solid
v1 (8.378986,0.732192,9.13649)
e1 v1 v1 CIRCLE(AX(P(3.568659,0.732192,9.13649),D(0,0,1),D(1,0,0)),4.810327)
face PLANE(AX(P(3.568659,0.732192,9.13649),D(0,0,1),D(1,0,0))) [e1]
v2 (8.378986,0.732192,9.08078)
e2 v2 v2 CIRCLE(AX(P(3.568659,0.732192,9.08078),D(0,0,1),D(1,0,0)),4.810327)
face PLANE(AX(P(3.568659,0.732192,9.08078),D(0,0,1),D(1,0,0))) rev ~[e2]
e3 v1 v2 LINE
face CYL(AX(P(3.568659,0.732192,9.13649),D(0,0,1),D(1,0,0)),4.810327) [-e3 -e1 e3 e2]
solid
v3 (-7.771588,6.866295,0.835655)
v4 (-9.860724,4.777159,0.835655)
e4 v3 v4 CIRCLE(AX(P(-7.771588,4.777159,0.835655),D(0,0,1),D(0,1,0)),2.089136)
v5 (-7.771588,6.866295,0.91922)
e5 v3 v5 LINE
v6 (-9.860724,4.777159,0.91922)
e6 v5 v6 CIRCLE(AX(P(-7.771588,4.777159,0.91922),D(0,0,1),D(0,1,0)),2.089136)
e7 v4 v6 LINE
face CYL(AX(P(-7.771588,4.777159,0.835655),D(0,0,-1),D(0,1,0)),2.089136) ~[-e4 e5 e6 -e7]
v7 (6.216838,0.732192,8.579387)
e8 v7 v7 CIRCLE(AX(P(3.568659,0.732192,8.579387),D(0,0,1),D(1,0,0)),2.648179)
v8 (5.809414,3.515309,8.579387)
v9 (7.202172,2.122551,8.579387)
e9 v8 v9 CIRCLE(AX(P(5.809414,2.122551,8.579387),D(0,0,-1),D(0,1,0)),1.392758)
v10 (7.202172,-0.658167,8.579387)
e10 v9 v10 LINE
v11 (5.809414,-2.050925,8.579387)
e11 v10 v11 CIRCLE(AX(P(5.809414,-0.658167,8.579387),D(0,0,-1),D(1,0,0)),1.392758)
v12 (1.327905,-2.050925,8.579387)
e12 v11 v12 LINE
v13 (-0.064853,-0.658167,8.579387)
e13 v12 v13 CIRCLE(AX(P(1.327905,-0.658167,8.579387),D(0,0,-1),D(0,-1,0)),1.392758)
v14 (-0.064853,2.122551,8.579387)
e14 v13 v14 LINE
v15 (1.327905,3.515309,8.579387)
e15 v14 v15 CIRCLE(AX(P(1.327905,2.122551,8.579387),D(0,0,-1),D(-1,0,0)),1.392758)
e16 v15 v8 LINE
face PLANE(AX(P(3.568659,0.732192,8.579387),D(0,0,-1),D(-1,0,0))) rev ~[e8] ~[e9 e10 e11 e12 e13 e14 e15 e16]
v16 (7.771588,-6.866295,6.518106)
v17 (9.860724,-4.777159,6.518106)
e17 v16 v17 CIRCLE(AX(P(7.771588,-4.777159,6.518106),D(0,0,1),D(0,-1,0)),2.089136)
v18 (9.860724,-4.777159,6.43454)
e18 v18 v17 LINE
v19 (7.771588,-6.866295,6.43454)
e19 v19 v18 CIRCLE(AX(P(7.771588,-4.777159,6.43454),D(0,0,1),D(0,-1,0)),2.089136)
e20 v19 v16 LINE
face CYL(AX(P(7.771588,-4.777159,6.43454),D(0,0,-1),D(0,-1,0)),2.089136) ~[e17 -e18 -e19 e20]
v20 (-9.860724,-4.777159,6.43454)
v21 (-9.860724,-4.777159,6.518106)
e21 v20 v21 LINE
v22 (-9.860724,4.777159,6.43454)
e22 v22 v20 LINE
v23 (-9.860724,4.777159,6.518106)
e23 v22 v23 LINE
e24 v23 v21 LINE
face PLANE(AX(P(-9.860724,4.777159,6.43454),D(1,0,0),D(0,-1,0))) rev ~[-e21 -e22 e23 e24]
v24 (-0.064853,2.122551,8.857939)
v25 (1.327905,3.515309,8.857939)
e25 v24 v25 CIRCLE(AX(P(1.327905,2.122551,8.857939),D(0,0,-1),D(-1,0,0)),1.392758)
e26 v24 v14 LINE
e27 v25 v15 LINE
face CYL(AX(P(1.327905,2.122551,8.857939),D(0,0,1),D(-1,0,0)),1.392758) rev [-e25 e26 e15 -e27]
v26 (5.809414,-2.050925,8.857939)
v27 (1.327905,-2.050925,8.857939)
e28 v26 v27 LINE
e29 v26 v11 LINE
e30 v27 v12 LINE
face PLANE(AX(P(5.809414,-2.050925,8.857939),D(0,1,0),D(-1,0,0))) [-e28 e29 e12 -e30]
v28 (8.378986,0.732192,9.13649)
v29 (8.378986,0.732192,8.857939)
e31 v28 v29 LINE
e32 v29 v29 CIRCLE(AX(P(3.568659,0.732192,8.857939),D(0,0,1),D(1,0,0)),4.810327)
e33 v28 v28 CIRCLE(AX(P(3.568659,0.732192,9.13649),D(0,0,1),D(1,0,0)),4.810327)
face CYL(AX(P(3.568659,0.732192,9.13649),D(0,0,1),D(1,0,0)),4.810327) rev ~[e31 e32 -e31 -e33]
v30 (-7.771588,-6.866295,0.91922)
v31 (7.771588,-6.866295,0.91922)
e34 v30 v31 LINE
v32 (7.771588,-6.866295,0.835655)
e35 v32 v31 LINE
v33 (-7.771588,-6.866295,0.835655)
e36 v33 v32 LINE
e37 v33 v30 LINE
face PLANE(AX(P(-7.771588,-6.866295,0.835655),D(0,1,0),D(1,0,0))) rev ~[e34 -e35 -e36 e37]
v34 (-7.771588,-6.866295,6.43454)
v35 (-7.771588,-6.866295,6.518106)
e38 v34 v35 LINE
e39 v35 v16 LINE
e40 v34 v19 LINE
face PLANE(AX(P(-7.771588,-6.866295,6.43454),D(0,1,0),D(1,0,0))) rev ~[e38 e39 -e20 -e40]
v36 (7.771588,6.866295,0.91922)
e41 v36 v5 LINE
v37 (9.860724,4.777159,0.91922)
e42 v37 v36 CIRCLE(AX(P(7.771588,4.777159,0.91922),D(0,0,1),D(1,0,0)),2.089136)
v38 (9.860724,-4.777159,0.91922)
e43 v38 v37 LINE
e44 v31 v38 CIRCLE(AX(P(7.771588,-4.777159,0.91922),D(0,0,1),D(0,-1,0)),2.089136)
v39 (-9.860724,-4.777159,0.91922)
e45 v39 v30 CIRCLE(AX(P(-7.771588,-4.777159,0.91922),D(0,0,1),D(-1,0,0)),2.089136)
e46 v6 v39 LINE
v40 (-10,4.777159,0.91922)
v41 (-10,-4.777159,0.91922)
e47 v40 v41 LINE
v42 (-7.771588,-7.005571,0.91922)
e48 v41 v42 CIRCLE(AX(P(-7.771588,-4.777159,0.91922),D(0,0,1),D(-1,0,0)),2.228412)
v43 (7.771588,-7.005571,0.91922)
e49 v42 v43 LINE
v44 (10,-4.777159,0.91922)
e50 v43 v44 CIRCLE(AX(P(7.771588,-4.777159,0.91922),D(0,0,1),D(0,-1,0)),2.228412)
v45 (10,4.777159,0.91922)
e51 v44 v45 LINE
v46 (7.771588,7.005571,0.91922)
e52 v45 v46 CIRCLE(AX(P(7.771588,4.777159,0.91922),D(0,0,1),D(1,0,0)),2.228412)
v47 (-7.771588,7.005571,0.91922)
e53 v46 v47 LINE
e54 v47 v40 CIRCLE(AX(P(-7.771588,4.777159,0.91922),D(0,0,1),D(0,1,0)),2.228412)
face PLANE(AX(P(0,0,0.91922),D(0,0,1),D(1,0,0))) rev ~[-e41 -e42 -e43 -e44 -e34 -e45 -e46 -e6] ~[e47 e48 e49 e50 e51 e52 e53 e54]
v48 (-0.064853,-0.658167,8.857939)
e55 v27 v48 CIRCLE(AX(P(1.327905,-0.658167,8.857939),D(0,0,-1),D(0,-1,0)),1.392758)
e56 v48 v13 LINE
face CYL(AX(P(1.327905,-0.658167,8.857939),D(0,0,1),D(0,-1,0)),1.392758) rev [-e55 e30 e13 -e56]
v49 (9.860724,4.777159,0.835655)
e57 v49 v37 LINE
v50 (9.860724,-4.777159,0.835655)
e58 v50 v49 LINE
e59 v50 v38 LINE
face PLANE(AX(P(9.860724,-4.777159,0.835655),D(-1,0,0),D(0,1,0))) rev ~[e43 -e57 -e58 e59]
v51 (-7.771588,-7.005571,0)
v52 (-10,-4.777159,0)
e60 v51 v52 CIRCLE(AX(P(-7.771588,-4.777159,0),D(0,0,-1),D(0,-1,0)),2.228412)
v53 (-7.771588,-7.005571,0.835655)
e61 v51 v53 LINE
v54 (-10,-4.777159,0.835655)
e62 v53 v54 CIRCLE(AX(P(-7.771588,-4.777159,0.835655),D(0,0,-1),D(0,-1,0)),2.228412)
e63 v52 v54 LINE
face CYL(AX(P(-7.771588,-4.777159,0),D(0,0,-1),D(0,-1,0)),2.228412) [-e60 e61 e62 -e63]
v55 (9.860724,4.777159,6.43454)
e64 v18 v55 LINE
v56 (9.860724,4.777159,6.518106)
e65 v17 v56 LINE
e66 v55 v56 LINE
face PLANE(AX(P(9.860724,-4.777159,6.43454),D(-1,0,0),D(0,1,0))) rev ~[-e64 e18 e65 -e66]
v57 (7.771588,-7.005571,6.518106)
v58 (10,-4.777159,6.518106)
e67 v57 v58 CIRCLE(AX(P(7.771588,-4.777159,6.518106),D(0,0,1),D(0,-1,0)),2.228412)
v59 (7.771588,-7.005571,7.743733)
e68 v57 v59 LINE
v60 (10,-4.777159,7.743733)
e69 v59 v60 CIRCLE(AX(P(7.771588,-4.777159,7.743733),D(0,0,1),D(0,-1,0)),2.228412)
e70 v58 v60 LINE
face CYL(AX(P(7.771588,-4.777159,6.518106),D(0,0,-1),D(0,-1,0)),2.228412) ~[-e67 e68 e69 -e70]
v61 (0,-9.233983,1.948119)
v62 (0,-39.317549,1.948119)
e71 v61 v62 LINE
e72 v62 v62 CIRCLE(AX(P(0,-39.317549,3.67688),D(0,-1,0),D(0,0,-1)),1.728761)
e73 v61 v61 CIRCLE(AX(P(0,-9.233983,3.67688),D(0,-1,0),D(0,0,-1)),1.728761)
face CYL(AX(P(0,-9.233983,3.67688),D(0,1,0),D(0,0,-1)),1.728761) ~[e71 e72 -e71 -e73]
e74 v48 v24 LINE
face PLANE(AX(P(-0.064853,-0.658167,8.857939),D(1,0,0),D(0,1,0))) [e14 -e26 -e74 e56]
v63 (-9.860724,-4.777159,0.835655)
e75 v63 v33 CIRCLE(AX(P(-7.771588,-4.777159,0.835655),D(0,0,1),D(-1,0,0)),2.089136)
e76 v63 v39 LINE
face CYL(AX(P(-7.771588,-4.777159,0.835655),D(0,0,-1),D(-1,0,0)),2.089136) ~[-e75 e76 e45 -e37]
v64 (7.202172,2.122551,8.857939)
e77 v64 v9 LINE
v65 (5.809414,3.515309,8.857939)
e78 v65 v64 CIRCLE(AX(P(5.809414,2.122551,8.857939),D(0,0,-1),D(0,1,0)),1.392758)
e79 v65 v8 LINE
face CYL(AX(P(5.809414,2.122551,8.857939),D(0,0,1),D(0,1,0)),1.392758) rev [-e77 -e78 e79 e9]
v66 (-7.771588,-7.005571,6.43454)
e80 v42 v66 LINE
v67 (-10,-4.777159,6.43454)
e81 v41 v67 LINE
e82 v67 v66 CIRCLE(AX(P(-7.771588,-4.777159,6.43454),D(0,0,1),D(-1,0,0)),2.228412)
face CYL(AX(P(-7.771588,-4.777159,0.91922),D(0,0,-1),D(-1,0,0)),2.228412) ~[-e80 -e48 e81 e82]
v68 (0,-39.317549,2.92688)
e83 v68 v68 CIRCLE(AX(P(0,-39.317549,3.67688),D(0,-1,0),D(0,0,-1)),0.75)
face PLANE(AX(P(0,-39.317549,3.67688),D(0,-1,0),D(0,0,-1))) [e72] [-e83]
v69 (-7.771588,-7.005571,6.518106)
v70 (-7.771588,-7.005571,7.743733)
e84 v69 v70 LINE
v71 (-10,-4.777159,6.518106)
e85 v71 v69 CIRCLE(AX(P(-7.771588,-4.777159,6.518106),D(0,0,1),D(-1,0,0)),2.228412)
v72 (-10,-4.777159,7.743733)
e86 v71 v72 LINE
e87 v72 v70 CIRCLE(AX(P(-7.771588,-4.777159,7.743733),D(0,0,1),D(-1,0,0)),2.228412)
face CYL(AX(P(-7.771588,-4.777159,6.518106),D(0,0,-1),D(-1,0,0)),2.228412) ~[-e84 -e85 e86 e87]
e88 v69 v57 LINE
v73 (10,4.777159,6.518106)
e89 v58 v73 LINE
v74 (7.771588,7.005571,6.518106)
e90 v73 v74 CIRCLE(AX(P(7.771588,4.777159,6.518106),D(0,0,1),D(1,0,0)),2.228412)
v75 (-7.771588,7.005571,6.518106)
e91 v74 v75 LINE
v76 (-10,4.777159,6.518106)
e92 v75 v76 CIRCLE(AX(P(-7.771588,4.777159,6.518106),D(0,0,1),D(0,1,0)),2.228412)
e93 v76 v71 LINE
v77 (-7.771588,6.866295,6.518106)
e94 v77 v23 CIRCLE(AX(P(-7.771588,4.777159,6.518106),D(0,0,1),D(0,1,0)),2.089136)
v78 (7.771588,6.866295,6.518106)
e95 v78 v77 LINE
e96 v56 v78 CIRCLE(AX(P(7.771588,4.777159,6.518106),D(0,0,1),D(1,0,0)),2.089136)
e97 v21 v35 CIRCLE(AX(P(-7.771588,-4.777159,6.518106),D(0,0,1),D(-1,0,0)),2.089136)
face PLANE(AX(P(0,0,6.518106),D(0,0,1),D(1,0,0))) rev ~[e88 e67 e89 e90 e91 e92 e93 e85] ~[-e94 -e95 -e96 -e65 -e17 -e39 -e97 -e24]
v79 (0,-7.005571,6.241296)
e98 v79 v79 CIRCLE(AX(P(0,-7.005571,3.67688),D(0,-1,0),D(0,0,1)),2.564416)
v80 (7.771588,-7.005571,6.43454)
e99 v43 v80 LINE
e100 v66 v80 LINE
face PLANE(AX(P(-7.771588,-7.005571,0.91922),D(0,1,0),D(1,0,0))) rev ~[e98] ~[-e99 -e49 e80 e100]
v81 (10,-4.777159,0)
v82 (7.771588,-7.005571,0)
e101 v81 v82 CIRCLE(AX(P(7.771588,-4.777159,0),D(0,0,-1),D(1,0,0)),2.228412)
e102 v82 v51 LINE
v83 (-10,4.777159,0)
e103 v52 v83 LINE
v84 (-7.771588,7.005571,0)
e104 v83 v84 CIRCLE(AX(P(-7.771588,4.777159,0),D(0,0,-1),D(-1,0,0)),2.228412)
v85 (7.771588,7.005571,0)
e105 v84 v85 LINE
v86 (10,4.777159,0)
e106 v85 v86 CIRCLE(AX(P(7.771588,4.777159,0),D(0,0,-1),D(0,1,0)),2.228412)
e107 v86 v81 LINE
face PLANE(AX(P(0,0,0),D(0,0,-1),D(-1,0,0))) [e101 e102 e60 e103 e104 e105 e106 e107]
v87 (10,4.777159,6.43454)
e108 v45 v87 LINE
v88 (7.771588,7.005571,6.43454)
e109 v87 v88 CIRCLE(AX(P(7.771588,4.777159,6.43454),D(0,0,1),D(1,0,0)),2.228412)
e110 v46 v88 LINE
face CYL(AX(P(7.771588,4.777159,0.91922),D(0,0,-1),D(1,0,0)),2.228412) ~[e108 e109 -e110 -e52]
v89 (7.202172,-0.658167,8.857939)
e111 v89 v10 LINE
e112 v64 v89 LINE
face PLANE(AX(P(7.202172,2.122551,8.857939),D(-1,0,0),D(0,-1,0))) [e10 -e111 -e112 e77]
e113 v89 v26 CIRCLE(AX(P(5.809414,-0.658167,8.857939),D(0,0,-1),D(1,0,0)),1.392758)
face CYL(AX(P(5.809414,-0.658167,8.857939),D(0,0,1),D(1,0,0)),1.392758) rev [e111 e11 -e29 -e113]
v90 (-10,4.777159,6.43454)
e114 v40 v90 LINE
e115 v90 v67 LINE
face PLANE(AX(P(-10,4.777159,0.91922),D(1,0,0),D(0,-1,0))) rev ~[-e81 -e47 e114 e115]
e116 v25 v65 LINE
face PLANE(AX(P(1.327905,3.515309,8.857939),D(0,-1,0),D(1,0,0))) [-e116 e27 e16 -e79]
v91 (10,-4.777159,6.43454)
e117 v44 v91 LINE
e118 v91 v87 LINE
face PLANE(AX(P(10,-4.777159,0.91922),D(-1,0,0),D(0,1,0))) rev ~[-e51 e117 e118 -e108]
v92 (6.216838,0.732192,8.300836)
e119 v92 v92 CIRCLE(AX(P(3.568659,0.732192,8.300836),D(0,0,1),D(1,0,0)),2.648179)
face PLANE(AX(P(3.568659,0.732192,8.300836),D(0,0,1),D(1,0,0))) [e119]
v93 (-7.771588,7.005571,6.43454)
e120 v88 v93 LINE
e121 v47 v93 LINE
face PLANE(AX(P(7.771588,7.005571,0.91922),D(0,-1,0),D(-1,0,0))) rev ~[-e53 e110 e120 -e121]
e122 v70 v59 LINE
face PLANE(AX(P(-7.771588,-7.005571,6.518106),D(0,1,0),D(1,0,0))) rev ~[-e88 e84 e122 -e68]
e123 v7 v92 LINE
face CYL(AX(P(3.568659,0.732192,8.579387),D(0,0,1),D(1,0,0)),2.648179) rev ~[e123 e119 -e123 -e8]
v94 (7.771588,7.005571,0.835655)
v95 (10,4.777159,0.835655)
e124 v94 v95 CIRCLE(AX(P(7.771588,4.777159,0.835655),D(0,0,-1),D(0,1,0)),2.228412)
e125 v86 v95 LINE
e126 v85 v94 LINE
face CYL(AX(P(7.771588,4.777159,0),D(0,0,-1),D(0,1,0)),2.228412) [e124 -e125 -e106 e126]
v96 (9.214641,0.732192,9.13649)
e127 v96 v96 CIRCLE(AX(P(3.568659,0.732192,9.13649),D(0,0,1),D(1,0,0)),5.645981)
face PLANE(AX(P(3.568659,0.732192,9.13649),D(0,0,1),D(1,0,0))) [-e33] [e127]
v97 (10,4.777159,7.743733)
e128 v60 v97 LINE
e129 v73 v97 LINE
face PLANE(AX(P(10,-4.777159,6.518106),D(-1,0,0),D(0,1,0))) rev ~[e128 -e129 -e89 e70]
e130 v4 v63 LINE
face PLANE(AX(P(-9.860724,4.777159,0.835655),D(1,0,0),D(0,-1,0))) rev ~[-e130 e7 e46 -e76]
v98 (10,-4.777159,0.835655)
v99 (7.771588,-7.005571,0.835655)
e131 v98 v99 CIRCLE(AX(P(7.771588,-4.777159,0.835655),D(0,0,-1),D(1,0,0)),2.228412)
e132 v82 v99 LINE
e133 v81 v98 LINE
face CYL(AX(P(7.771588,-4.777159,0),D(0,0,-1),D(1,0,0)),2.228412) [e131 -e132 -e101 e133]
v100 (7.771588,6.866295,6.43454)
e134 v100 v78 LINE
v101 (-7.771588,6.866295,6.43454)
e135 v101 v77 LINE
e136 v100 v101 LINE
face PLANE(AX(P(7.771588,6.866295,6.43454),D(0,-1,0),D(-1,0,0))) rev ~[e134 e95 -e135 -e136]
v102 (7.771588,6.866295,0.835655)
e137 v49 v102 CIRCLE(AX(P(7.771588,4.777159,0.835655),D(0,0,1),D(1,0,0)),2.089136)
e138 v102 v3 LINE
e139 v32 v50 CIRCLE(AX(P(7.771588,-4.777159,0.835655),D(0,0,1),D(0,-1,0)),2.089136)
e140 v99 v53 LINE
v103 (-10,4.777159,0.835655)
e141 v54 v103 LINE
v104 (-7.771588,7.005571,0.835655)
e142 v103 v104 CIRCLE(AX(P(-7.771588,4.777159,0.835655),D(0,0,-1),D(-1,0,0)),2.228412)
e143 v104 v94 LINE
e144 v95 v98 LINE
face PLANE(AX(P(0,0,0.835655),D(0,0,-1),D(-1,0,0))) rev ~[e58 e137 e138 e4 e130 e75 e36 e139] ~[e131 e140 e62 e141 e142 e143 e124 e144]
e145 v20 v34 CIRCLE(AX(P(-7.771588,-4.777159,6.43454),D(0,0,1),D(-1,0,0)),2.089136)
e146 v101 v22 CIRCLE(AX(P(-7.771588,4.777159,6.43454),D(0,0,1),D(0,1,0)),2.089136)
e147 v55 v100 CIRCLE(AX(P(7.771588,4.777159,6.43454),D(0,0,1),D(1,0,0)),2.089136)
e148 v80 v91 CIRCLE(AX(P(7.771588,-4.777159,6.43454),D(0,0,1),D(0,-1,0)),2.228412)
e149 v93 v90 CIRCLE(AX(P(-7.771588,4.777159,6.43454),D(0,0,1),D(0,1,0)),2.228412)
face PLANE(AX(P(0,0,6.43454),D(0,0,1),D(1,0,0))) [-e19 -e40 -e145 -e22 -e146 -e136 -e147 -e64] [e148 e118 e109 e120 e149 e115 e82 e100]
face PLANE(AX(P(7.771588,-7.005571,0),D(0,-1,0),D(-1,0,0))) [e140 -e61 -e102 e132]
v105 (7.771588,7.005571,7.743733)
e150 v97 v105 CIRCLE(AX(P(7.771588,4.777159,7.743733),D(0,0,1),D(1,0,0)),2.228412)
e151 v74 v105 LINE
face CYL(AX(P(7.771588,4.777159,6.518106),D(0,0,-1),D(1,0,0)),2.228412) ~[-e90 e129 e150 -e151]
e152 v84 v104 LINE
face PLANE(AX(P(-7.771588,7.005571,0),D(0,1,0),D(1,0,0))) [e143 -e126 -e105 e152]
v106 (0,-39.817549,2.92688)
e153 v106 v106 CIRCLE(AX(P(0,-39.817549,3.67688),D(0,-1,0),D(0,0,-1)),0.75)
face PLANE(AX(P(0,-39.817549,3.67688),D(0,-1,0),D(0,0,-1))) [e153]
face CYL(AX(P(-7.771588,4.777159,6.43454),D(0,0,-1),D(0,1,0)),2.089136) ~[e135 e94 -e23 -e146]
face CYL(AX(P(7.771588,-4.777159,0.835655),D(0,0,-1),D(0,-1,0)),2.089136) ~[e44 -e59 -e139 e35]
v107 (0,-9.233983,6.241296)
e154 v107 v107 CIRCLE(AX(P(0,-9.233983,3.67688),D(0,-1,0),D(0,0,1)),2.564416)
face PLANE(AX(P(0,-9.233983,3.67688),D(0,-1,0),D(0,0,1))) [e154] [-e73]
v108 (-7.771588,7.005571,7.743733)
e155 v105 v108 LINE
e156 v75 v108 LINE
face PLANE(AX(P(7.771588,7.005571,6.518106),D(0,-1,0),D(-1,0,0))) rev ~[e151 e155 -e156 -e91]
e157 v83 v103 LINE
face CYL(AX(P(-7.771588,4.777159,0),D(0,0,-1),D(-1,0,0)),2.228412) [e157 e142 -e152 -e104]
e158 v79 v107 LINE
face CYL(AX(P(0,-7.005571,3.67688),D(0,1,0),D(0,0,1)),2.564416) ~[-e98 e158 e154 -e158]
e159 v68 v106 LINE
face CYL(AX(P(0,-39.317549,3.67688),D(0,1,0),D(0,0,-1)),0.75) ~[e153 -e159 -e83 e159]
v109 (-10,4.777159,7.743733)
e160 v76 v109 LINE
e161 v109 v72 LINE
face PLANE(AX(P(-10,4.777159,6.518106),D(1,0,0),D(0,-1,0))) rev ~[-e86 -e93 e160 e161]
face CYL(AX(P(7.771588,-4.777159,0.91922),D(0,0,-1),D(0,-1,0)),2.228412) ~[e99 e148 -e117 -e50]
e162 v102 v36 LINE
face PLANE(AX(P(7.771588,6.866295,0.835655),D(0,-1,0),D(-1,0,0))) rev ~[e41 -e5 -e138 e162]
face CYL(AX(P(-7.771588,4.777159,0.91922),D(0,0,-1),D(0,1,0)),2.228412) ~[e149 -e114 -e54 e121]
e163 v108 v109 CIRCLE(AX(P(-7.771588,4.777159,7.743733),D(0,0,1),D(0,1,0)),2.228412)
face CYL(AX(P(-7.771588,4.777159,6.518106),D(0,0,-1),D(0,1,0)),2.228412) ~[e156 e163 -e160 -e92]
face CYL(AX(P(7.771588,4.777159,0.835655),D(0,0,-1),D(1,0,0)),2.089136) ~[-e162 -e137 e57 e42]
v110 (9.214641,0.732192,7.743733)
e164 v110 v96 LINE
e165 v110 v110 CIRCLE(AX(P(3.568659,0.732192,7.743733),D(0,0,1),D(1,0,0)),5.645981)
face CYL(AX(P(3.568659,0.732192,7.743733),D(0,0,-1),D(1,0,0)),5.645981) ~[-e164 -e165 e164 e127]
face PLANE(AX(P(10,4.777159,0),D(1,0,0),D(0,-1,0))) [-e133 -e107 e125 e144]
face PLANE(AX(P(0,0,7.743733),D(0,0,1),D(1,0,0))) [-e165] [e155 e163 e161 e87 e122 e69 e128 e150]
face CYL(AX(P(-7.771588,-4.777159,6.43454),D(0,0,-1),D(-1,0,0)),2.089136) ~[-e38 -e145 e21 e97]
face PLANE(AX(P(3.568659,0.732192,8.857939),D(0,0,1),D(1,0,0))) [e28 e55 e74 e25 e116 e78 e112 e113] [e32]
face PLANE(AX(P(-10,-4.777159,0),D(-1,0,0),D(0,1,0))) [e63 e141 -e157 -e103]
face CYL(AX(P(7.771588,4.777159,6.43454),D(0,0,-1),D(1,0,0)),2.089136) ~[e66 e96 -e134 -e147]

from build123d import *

# Parameters (mm, degrees)
BOSS_EXTRUDE3_DEPTH  = 3
BOSS_EXTRUDE4_DEPTH  = 0.3
BOSS_EXTRUDE5_DEPTH  = 19.8
BOSS_EXTRUDE6_DEPTH  = 0.3
BOSS_EXTRUDE7_DEPTH  = 4.4
SKETCH19_R           = 9.20625279
BOSS_EXTRUDE11_DEPTH = 8
SKETCH20_R           = 6.20625279
BOSS_EXTRUDE12_DEPTH = 108
SKETCH21_R           = 20.269072442
BOSS_EXTRUDE13_DEPTH = 5
SKETCH23_R           = 17.269072442
CUT_EXTRUDE2_DEPTH   = 1
CUT_EXTRUDE3_DEPTH   = 1
SKETCH25_R           = 9.506960847
CUT_EXTRUDE4_DEPTH   = 1
SKETCH29_R           = 17.269072442
BOSS_EXTRUDE14_DEPTH = 0.2
SCALE1_SCALE         = 0.278551532
SKETCH31_R           = 0.75
BOSS_EXTRUDE15_DEPTH = 0.5


with BuildPart() as part:
    # Sketch3 → Boss-Extrude3 (new body)
    with BuildSketch(Plane.XY):
        with BuildLine():
            Line((-27.9, 25.15), (27.9, 25.15))
            ThreePointArc((27.9, 25.15), (33.556854249, 22.806854249), (35.9, 17.15))
            Line((35.9, 17.15), (35.9, -17.15))
            ThreePointArc((35.9, -17.15), (33.556854249, -22.806854249), (27.9, -25.15))
            Line((27.9, -25.15), (-27.9, -25.15))
            ThreePointArc((-27.9, -25.15), (-33.556854249, -22.806854249), (-35.9, -17.15))
            Line((-35.9, -17.15), (-35.9, 17.15))
            ThreePointArc((-35.9, 17.15), (-33.556854249, 22.806854249), (-27.9, 25.15))
        make_face()
    extrude(amount=BOSS_EXTRUDE3_DEPTH)

    # Sketch4 → Boss-Extrude4 (add)
    with BuildSketch(Plane.XY.offset(3)):
        with BuildLine():
            Line((27.9, 24.65), (-27.9, 24.65))
            ThreePointArc((-27.9, 24.65), (-33.203300859, 22.453300859), (-35.4, 17.15))
            Line((-35.4, 17.15), (-35.4, -17.15))
            ThreePointArc((-35.4, -17.15), (-33.203300859, -22.453300859), (-27.9, -24.65))
            Line((-27.9, -24.65), (27.9, -24.65))
            ThreePointArc((27.9, -24.65), (33.203300859, -22.453300859), (35.4, -17.15))
            Line((35.4, -17.15), (35.4, 17.15))
            ThreePointArc((35.4, 17.15), (33.203300859, 22.453300859), (27.9, 24.65))
        make_face()
    extrude(amount=BOSS_EXTRUDE4_DEPTH)

    # Sketch5 → Boss-Extrude5 (add)
    with BuildSketch(Plane.XY.offset(3.3)):
        with BuildLine():
            Line((27.9, 25.15), (-27.9, 25.15))
            ThreePointArc((-27.9, 25.15), (-33.556854249, 22.806854249), (-35.9, 17.15))
            Line((-35.9, 17.15), (-35.9, -17.15))
            ThreePointArc((-35.9, -17.15), (-33.556854249, -22.806854249), (-27.9, -25.15))
            Line((-27.9, -25.15), (27.9, -25.15))
            ThreePointArc((27.9, -25.15), (33.556854249, -22.806854249), (35.9, -17.15))
            Line((35.9, -17.15), (35.9, 17.15))
            ThreePointArc((35.9, 17.15), (33.556854249, 22.806854249), (27.9, 25.15))
        make_face()
    extrude(amount=BOSS_EXTRUDE5_DEPTH)

    # Sketch6 → Boss-Extrude6 (add)
    with BuildSketch(Plane.XY.offset(23.1)):
        with BuildLine():
            Line((27.9, 24.65), (-27.9, 24.65))
            ThreePointArc((-27.9, 24.65), (-33.203300859, 22.453300859), (-35.4, 17.15))
            Line((-35.4, 17.15), (-35.4, -17.15))
            ThreePointArc((-35.4, -17.15), (-33.203300859, -22.453300859), (-27.9, -24.65))
            Line((-27.9, -24.65), (27.9, -24.65))
            ThreePointArc((27.9, -24.65), (33.203300859, -22.453300859), (35.4, -17.15))
            Line((35.4, -17.15), (35.4, 17.15))
            ThreePointArc((35.4, 17.15), (33.203300859, 22.453300859), (27.9, 24.65))
        make_face()
    extrude(amount=BOSS_EXTRUDE6_DEPTH)

    # Sketch7 → Boss-Extrude7 (add)
    with BuildSketch(Plane.XY.offset(23.4)):
        with BuildLine():
            Line((27.9, 25.15), (-27.9, 25.15))
            ThreePointArc((-27.9, 25.15), (-33.556854249, 22.806854249), (-35.9, 17.15))
            Line((-35.9, 17.15), (-35.9, -17.15))
            ThreePointArc((-35.9, -17.15), (-33.556854249, -22.806854249), (-27.9, -25.15))
            Line((-27.9, -25.15), (27.9, -25.15))
            ThreePointArc((27.9, -25.15), (33.556854249, -22.806854249), (35.9, -17.15))
            Line((35.9, -17.15), (35.9, 17.15))
            ThreePointArc((35.9, 17.15), (33.556854249, 22.806854249), (27.9, 25.15))
        make_face()
    extrude(amount=BOSS_EXTRUDE7_DEPTH)

    # Sketch19 → Boss-Extrude11 (add)
    with BuildSketch(Plane.XZ.offset(25.15)):
        with Locations(Location((0, 13.2, 0), (0, 0, 90))):
            Circle(SKETCH19_R)
    extrude(amount=BOSS_EXTRUDE11_DEPTH)

    # Sketch20 → Boss-Extrude12 (add)
    with BuildSketch(Plane.XZ.offset(33.15)):
        with Locations(Location((0, 13.2, 0), (0, 0, 270))):
            Circle(SKETCH20_R)
    extrude(amount=BOSS_EXTRUDE12_DEPTH)

    # Sketch21 → Boss-Extrude13 (add)
    with BuildSketch(Plane.XY.offset(27.8)):
        with Locations((12.81148727, 2.628569179)):
            Circle(SKETCH21_R)
    extrude(amount=BOSS_EXTRUDE13_DEPTH)

    # Sketch23 → Cut-Extrude2 (cut)
    with BuildSketch(Plane.XY.offset(32.8)):
        with Locations((12.81148727, 2.628569179)):
            Circle(SKETCH23_R)
    extrude(amount=-CUT_EXTRUDE2_DEPTH, mode=Mode.SUBTRACT)

    # Sketch24 → Cut-Extrude3 (cut)
    with BuildSketch(Plane.XY.offset(31.8)):
        with BuildLine():
            Line((4.767177469, 12.619958082), (20.85579707, 12.619958082))
            ThreePointArc((20.85579707, 12.619958082), (24.391330976, 11.155491987), (25.85579707, 7.619958082))
            Line((25.85579707, 7.619958082), (25.85579707, -2.362819723))
            ThreePointArc((25.85579707, -2.362819723), (24.391330976, -5.898353629), (20.85579707, -7.362819723))
            Line((20.85579707, -7.362819723), (4.767177469, -7.362819723))
            ThreePointArc((4.767177469, -7.362819723), (1.231643563, -5.898353629), (-0.232822531, -2.362819723))
            Line((-0.232822531, -2.362819723), (-0.232822531, 7.619958082))
            ThreePointArc((-0.232822531, 7.619958082), (1.231643563, 11.155491987), (4.767177469, 12.619958082))
        make_face()
    extrude(amount=-CUT_EXTRUDE3_DEPTH, mode=Mode.SUBTRACT)

    # Sketch25 → Cut-Extrude4 (cut)
    with BuildSketch(Plane.XY.offset(30.8)):
        with Locations((12.81148727, 2.628569179)):
            Circle(SKETCH25_R)
    extrude(amount=-CUT_EXTRUDE4_DEPTH, mode=Mode.SUBTRACT)


with BuildPart() as body_2:
    # Sketch29 → Boss-Extrude14 (new body)
    with BuildSketch(Plane.XY.offset(32.8)):
        with Locations((12.81148727, 2.628569179)):
            Circle(SKETCH29_R)
    extrude(amount=-BOSS_EXTRUDE14_DEPTH)


with BuildPart() as body_2_1:
    # Scale1: scaled about (0, 0, 0)
    add(body_2.part.scale(SCALE1_SCALE))


with BuildPart() as part_1:
    # Scale1: scaled about (0, 0, 0)
    add(part.part.scale(SCALE1_SCALE))

    # Sketch31 → Boss-Extrude15 (add)
    with BuildSketch(Plane.XZ.offset(39.317548742)):
        with Locations(Location((0, 3.676880222, 0), (0, 0, 270))):
            Circle(SKETCH31_R)
    extrude(amount=BOSS_EXTRUDE15_DEPTH)


solid = Compound([body_2_1.part, part_1.part])
